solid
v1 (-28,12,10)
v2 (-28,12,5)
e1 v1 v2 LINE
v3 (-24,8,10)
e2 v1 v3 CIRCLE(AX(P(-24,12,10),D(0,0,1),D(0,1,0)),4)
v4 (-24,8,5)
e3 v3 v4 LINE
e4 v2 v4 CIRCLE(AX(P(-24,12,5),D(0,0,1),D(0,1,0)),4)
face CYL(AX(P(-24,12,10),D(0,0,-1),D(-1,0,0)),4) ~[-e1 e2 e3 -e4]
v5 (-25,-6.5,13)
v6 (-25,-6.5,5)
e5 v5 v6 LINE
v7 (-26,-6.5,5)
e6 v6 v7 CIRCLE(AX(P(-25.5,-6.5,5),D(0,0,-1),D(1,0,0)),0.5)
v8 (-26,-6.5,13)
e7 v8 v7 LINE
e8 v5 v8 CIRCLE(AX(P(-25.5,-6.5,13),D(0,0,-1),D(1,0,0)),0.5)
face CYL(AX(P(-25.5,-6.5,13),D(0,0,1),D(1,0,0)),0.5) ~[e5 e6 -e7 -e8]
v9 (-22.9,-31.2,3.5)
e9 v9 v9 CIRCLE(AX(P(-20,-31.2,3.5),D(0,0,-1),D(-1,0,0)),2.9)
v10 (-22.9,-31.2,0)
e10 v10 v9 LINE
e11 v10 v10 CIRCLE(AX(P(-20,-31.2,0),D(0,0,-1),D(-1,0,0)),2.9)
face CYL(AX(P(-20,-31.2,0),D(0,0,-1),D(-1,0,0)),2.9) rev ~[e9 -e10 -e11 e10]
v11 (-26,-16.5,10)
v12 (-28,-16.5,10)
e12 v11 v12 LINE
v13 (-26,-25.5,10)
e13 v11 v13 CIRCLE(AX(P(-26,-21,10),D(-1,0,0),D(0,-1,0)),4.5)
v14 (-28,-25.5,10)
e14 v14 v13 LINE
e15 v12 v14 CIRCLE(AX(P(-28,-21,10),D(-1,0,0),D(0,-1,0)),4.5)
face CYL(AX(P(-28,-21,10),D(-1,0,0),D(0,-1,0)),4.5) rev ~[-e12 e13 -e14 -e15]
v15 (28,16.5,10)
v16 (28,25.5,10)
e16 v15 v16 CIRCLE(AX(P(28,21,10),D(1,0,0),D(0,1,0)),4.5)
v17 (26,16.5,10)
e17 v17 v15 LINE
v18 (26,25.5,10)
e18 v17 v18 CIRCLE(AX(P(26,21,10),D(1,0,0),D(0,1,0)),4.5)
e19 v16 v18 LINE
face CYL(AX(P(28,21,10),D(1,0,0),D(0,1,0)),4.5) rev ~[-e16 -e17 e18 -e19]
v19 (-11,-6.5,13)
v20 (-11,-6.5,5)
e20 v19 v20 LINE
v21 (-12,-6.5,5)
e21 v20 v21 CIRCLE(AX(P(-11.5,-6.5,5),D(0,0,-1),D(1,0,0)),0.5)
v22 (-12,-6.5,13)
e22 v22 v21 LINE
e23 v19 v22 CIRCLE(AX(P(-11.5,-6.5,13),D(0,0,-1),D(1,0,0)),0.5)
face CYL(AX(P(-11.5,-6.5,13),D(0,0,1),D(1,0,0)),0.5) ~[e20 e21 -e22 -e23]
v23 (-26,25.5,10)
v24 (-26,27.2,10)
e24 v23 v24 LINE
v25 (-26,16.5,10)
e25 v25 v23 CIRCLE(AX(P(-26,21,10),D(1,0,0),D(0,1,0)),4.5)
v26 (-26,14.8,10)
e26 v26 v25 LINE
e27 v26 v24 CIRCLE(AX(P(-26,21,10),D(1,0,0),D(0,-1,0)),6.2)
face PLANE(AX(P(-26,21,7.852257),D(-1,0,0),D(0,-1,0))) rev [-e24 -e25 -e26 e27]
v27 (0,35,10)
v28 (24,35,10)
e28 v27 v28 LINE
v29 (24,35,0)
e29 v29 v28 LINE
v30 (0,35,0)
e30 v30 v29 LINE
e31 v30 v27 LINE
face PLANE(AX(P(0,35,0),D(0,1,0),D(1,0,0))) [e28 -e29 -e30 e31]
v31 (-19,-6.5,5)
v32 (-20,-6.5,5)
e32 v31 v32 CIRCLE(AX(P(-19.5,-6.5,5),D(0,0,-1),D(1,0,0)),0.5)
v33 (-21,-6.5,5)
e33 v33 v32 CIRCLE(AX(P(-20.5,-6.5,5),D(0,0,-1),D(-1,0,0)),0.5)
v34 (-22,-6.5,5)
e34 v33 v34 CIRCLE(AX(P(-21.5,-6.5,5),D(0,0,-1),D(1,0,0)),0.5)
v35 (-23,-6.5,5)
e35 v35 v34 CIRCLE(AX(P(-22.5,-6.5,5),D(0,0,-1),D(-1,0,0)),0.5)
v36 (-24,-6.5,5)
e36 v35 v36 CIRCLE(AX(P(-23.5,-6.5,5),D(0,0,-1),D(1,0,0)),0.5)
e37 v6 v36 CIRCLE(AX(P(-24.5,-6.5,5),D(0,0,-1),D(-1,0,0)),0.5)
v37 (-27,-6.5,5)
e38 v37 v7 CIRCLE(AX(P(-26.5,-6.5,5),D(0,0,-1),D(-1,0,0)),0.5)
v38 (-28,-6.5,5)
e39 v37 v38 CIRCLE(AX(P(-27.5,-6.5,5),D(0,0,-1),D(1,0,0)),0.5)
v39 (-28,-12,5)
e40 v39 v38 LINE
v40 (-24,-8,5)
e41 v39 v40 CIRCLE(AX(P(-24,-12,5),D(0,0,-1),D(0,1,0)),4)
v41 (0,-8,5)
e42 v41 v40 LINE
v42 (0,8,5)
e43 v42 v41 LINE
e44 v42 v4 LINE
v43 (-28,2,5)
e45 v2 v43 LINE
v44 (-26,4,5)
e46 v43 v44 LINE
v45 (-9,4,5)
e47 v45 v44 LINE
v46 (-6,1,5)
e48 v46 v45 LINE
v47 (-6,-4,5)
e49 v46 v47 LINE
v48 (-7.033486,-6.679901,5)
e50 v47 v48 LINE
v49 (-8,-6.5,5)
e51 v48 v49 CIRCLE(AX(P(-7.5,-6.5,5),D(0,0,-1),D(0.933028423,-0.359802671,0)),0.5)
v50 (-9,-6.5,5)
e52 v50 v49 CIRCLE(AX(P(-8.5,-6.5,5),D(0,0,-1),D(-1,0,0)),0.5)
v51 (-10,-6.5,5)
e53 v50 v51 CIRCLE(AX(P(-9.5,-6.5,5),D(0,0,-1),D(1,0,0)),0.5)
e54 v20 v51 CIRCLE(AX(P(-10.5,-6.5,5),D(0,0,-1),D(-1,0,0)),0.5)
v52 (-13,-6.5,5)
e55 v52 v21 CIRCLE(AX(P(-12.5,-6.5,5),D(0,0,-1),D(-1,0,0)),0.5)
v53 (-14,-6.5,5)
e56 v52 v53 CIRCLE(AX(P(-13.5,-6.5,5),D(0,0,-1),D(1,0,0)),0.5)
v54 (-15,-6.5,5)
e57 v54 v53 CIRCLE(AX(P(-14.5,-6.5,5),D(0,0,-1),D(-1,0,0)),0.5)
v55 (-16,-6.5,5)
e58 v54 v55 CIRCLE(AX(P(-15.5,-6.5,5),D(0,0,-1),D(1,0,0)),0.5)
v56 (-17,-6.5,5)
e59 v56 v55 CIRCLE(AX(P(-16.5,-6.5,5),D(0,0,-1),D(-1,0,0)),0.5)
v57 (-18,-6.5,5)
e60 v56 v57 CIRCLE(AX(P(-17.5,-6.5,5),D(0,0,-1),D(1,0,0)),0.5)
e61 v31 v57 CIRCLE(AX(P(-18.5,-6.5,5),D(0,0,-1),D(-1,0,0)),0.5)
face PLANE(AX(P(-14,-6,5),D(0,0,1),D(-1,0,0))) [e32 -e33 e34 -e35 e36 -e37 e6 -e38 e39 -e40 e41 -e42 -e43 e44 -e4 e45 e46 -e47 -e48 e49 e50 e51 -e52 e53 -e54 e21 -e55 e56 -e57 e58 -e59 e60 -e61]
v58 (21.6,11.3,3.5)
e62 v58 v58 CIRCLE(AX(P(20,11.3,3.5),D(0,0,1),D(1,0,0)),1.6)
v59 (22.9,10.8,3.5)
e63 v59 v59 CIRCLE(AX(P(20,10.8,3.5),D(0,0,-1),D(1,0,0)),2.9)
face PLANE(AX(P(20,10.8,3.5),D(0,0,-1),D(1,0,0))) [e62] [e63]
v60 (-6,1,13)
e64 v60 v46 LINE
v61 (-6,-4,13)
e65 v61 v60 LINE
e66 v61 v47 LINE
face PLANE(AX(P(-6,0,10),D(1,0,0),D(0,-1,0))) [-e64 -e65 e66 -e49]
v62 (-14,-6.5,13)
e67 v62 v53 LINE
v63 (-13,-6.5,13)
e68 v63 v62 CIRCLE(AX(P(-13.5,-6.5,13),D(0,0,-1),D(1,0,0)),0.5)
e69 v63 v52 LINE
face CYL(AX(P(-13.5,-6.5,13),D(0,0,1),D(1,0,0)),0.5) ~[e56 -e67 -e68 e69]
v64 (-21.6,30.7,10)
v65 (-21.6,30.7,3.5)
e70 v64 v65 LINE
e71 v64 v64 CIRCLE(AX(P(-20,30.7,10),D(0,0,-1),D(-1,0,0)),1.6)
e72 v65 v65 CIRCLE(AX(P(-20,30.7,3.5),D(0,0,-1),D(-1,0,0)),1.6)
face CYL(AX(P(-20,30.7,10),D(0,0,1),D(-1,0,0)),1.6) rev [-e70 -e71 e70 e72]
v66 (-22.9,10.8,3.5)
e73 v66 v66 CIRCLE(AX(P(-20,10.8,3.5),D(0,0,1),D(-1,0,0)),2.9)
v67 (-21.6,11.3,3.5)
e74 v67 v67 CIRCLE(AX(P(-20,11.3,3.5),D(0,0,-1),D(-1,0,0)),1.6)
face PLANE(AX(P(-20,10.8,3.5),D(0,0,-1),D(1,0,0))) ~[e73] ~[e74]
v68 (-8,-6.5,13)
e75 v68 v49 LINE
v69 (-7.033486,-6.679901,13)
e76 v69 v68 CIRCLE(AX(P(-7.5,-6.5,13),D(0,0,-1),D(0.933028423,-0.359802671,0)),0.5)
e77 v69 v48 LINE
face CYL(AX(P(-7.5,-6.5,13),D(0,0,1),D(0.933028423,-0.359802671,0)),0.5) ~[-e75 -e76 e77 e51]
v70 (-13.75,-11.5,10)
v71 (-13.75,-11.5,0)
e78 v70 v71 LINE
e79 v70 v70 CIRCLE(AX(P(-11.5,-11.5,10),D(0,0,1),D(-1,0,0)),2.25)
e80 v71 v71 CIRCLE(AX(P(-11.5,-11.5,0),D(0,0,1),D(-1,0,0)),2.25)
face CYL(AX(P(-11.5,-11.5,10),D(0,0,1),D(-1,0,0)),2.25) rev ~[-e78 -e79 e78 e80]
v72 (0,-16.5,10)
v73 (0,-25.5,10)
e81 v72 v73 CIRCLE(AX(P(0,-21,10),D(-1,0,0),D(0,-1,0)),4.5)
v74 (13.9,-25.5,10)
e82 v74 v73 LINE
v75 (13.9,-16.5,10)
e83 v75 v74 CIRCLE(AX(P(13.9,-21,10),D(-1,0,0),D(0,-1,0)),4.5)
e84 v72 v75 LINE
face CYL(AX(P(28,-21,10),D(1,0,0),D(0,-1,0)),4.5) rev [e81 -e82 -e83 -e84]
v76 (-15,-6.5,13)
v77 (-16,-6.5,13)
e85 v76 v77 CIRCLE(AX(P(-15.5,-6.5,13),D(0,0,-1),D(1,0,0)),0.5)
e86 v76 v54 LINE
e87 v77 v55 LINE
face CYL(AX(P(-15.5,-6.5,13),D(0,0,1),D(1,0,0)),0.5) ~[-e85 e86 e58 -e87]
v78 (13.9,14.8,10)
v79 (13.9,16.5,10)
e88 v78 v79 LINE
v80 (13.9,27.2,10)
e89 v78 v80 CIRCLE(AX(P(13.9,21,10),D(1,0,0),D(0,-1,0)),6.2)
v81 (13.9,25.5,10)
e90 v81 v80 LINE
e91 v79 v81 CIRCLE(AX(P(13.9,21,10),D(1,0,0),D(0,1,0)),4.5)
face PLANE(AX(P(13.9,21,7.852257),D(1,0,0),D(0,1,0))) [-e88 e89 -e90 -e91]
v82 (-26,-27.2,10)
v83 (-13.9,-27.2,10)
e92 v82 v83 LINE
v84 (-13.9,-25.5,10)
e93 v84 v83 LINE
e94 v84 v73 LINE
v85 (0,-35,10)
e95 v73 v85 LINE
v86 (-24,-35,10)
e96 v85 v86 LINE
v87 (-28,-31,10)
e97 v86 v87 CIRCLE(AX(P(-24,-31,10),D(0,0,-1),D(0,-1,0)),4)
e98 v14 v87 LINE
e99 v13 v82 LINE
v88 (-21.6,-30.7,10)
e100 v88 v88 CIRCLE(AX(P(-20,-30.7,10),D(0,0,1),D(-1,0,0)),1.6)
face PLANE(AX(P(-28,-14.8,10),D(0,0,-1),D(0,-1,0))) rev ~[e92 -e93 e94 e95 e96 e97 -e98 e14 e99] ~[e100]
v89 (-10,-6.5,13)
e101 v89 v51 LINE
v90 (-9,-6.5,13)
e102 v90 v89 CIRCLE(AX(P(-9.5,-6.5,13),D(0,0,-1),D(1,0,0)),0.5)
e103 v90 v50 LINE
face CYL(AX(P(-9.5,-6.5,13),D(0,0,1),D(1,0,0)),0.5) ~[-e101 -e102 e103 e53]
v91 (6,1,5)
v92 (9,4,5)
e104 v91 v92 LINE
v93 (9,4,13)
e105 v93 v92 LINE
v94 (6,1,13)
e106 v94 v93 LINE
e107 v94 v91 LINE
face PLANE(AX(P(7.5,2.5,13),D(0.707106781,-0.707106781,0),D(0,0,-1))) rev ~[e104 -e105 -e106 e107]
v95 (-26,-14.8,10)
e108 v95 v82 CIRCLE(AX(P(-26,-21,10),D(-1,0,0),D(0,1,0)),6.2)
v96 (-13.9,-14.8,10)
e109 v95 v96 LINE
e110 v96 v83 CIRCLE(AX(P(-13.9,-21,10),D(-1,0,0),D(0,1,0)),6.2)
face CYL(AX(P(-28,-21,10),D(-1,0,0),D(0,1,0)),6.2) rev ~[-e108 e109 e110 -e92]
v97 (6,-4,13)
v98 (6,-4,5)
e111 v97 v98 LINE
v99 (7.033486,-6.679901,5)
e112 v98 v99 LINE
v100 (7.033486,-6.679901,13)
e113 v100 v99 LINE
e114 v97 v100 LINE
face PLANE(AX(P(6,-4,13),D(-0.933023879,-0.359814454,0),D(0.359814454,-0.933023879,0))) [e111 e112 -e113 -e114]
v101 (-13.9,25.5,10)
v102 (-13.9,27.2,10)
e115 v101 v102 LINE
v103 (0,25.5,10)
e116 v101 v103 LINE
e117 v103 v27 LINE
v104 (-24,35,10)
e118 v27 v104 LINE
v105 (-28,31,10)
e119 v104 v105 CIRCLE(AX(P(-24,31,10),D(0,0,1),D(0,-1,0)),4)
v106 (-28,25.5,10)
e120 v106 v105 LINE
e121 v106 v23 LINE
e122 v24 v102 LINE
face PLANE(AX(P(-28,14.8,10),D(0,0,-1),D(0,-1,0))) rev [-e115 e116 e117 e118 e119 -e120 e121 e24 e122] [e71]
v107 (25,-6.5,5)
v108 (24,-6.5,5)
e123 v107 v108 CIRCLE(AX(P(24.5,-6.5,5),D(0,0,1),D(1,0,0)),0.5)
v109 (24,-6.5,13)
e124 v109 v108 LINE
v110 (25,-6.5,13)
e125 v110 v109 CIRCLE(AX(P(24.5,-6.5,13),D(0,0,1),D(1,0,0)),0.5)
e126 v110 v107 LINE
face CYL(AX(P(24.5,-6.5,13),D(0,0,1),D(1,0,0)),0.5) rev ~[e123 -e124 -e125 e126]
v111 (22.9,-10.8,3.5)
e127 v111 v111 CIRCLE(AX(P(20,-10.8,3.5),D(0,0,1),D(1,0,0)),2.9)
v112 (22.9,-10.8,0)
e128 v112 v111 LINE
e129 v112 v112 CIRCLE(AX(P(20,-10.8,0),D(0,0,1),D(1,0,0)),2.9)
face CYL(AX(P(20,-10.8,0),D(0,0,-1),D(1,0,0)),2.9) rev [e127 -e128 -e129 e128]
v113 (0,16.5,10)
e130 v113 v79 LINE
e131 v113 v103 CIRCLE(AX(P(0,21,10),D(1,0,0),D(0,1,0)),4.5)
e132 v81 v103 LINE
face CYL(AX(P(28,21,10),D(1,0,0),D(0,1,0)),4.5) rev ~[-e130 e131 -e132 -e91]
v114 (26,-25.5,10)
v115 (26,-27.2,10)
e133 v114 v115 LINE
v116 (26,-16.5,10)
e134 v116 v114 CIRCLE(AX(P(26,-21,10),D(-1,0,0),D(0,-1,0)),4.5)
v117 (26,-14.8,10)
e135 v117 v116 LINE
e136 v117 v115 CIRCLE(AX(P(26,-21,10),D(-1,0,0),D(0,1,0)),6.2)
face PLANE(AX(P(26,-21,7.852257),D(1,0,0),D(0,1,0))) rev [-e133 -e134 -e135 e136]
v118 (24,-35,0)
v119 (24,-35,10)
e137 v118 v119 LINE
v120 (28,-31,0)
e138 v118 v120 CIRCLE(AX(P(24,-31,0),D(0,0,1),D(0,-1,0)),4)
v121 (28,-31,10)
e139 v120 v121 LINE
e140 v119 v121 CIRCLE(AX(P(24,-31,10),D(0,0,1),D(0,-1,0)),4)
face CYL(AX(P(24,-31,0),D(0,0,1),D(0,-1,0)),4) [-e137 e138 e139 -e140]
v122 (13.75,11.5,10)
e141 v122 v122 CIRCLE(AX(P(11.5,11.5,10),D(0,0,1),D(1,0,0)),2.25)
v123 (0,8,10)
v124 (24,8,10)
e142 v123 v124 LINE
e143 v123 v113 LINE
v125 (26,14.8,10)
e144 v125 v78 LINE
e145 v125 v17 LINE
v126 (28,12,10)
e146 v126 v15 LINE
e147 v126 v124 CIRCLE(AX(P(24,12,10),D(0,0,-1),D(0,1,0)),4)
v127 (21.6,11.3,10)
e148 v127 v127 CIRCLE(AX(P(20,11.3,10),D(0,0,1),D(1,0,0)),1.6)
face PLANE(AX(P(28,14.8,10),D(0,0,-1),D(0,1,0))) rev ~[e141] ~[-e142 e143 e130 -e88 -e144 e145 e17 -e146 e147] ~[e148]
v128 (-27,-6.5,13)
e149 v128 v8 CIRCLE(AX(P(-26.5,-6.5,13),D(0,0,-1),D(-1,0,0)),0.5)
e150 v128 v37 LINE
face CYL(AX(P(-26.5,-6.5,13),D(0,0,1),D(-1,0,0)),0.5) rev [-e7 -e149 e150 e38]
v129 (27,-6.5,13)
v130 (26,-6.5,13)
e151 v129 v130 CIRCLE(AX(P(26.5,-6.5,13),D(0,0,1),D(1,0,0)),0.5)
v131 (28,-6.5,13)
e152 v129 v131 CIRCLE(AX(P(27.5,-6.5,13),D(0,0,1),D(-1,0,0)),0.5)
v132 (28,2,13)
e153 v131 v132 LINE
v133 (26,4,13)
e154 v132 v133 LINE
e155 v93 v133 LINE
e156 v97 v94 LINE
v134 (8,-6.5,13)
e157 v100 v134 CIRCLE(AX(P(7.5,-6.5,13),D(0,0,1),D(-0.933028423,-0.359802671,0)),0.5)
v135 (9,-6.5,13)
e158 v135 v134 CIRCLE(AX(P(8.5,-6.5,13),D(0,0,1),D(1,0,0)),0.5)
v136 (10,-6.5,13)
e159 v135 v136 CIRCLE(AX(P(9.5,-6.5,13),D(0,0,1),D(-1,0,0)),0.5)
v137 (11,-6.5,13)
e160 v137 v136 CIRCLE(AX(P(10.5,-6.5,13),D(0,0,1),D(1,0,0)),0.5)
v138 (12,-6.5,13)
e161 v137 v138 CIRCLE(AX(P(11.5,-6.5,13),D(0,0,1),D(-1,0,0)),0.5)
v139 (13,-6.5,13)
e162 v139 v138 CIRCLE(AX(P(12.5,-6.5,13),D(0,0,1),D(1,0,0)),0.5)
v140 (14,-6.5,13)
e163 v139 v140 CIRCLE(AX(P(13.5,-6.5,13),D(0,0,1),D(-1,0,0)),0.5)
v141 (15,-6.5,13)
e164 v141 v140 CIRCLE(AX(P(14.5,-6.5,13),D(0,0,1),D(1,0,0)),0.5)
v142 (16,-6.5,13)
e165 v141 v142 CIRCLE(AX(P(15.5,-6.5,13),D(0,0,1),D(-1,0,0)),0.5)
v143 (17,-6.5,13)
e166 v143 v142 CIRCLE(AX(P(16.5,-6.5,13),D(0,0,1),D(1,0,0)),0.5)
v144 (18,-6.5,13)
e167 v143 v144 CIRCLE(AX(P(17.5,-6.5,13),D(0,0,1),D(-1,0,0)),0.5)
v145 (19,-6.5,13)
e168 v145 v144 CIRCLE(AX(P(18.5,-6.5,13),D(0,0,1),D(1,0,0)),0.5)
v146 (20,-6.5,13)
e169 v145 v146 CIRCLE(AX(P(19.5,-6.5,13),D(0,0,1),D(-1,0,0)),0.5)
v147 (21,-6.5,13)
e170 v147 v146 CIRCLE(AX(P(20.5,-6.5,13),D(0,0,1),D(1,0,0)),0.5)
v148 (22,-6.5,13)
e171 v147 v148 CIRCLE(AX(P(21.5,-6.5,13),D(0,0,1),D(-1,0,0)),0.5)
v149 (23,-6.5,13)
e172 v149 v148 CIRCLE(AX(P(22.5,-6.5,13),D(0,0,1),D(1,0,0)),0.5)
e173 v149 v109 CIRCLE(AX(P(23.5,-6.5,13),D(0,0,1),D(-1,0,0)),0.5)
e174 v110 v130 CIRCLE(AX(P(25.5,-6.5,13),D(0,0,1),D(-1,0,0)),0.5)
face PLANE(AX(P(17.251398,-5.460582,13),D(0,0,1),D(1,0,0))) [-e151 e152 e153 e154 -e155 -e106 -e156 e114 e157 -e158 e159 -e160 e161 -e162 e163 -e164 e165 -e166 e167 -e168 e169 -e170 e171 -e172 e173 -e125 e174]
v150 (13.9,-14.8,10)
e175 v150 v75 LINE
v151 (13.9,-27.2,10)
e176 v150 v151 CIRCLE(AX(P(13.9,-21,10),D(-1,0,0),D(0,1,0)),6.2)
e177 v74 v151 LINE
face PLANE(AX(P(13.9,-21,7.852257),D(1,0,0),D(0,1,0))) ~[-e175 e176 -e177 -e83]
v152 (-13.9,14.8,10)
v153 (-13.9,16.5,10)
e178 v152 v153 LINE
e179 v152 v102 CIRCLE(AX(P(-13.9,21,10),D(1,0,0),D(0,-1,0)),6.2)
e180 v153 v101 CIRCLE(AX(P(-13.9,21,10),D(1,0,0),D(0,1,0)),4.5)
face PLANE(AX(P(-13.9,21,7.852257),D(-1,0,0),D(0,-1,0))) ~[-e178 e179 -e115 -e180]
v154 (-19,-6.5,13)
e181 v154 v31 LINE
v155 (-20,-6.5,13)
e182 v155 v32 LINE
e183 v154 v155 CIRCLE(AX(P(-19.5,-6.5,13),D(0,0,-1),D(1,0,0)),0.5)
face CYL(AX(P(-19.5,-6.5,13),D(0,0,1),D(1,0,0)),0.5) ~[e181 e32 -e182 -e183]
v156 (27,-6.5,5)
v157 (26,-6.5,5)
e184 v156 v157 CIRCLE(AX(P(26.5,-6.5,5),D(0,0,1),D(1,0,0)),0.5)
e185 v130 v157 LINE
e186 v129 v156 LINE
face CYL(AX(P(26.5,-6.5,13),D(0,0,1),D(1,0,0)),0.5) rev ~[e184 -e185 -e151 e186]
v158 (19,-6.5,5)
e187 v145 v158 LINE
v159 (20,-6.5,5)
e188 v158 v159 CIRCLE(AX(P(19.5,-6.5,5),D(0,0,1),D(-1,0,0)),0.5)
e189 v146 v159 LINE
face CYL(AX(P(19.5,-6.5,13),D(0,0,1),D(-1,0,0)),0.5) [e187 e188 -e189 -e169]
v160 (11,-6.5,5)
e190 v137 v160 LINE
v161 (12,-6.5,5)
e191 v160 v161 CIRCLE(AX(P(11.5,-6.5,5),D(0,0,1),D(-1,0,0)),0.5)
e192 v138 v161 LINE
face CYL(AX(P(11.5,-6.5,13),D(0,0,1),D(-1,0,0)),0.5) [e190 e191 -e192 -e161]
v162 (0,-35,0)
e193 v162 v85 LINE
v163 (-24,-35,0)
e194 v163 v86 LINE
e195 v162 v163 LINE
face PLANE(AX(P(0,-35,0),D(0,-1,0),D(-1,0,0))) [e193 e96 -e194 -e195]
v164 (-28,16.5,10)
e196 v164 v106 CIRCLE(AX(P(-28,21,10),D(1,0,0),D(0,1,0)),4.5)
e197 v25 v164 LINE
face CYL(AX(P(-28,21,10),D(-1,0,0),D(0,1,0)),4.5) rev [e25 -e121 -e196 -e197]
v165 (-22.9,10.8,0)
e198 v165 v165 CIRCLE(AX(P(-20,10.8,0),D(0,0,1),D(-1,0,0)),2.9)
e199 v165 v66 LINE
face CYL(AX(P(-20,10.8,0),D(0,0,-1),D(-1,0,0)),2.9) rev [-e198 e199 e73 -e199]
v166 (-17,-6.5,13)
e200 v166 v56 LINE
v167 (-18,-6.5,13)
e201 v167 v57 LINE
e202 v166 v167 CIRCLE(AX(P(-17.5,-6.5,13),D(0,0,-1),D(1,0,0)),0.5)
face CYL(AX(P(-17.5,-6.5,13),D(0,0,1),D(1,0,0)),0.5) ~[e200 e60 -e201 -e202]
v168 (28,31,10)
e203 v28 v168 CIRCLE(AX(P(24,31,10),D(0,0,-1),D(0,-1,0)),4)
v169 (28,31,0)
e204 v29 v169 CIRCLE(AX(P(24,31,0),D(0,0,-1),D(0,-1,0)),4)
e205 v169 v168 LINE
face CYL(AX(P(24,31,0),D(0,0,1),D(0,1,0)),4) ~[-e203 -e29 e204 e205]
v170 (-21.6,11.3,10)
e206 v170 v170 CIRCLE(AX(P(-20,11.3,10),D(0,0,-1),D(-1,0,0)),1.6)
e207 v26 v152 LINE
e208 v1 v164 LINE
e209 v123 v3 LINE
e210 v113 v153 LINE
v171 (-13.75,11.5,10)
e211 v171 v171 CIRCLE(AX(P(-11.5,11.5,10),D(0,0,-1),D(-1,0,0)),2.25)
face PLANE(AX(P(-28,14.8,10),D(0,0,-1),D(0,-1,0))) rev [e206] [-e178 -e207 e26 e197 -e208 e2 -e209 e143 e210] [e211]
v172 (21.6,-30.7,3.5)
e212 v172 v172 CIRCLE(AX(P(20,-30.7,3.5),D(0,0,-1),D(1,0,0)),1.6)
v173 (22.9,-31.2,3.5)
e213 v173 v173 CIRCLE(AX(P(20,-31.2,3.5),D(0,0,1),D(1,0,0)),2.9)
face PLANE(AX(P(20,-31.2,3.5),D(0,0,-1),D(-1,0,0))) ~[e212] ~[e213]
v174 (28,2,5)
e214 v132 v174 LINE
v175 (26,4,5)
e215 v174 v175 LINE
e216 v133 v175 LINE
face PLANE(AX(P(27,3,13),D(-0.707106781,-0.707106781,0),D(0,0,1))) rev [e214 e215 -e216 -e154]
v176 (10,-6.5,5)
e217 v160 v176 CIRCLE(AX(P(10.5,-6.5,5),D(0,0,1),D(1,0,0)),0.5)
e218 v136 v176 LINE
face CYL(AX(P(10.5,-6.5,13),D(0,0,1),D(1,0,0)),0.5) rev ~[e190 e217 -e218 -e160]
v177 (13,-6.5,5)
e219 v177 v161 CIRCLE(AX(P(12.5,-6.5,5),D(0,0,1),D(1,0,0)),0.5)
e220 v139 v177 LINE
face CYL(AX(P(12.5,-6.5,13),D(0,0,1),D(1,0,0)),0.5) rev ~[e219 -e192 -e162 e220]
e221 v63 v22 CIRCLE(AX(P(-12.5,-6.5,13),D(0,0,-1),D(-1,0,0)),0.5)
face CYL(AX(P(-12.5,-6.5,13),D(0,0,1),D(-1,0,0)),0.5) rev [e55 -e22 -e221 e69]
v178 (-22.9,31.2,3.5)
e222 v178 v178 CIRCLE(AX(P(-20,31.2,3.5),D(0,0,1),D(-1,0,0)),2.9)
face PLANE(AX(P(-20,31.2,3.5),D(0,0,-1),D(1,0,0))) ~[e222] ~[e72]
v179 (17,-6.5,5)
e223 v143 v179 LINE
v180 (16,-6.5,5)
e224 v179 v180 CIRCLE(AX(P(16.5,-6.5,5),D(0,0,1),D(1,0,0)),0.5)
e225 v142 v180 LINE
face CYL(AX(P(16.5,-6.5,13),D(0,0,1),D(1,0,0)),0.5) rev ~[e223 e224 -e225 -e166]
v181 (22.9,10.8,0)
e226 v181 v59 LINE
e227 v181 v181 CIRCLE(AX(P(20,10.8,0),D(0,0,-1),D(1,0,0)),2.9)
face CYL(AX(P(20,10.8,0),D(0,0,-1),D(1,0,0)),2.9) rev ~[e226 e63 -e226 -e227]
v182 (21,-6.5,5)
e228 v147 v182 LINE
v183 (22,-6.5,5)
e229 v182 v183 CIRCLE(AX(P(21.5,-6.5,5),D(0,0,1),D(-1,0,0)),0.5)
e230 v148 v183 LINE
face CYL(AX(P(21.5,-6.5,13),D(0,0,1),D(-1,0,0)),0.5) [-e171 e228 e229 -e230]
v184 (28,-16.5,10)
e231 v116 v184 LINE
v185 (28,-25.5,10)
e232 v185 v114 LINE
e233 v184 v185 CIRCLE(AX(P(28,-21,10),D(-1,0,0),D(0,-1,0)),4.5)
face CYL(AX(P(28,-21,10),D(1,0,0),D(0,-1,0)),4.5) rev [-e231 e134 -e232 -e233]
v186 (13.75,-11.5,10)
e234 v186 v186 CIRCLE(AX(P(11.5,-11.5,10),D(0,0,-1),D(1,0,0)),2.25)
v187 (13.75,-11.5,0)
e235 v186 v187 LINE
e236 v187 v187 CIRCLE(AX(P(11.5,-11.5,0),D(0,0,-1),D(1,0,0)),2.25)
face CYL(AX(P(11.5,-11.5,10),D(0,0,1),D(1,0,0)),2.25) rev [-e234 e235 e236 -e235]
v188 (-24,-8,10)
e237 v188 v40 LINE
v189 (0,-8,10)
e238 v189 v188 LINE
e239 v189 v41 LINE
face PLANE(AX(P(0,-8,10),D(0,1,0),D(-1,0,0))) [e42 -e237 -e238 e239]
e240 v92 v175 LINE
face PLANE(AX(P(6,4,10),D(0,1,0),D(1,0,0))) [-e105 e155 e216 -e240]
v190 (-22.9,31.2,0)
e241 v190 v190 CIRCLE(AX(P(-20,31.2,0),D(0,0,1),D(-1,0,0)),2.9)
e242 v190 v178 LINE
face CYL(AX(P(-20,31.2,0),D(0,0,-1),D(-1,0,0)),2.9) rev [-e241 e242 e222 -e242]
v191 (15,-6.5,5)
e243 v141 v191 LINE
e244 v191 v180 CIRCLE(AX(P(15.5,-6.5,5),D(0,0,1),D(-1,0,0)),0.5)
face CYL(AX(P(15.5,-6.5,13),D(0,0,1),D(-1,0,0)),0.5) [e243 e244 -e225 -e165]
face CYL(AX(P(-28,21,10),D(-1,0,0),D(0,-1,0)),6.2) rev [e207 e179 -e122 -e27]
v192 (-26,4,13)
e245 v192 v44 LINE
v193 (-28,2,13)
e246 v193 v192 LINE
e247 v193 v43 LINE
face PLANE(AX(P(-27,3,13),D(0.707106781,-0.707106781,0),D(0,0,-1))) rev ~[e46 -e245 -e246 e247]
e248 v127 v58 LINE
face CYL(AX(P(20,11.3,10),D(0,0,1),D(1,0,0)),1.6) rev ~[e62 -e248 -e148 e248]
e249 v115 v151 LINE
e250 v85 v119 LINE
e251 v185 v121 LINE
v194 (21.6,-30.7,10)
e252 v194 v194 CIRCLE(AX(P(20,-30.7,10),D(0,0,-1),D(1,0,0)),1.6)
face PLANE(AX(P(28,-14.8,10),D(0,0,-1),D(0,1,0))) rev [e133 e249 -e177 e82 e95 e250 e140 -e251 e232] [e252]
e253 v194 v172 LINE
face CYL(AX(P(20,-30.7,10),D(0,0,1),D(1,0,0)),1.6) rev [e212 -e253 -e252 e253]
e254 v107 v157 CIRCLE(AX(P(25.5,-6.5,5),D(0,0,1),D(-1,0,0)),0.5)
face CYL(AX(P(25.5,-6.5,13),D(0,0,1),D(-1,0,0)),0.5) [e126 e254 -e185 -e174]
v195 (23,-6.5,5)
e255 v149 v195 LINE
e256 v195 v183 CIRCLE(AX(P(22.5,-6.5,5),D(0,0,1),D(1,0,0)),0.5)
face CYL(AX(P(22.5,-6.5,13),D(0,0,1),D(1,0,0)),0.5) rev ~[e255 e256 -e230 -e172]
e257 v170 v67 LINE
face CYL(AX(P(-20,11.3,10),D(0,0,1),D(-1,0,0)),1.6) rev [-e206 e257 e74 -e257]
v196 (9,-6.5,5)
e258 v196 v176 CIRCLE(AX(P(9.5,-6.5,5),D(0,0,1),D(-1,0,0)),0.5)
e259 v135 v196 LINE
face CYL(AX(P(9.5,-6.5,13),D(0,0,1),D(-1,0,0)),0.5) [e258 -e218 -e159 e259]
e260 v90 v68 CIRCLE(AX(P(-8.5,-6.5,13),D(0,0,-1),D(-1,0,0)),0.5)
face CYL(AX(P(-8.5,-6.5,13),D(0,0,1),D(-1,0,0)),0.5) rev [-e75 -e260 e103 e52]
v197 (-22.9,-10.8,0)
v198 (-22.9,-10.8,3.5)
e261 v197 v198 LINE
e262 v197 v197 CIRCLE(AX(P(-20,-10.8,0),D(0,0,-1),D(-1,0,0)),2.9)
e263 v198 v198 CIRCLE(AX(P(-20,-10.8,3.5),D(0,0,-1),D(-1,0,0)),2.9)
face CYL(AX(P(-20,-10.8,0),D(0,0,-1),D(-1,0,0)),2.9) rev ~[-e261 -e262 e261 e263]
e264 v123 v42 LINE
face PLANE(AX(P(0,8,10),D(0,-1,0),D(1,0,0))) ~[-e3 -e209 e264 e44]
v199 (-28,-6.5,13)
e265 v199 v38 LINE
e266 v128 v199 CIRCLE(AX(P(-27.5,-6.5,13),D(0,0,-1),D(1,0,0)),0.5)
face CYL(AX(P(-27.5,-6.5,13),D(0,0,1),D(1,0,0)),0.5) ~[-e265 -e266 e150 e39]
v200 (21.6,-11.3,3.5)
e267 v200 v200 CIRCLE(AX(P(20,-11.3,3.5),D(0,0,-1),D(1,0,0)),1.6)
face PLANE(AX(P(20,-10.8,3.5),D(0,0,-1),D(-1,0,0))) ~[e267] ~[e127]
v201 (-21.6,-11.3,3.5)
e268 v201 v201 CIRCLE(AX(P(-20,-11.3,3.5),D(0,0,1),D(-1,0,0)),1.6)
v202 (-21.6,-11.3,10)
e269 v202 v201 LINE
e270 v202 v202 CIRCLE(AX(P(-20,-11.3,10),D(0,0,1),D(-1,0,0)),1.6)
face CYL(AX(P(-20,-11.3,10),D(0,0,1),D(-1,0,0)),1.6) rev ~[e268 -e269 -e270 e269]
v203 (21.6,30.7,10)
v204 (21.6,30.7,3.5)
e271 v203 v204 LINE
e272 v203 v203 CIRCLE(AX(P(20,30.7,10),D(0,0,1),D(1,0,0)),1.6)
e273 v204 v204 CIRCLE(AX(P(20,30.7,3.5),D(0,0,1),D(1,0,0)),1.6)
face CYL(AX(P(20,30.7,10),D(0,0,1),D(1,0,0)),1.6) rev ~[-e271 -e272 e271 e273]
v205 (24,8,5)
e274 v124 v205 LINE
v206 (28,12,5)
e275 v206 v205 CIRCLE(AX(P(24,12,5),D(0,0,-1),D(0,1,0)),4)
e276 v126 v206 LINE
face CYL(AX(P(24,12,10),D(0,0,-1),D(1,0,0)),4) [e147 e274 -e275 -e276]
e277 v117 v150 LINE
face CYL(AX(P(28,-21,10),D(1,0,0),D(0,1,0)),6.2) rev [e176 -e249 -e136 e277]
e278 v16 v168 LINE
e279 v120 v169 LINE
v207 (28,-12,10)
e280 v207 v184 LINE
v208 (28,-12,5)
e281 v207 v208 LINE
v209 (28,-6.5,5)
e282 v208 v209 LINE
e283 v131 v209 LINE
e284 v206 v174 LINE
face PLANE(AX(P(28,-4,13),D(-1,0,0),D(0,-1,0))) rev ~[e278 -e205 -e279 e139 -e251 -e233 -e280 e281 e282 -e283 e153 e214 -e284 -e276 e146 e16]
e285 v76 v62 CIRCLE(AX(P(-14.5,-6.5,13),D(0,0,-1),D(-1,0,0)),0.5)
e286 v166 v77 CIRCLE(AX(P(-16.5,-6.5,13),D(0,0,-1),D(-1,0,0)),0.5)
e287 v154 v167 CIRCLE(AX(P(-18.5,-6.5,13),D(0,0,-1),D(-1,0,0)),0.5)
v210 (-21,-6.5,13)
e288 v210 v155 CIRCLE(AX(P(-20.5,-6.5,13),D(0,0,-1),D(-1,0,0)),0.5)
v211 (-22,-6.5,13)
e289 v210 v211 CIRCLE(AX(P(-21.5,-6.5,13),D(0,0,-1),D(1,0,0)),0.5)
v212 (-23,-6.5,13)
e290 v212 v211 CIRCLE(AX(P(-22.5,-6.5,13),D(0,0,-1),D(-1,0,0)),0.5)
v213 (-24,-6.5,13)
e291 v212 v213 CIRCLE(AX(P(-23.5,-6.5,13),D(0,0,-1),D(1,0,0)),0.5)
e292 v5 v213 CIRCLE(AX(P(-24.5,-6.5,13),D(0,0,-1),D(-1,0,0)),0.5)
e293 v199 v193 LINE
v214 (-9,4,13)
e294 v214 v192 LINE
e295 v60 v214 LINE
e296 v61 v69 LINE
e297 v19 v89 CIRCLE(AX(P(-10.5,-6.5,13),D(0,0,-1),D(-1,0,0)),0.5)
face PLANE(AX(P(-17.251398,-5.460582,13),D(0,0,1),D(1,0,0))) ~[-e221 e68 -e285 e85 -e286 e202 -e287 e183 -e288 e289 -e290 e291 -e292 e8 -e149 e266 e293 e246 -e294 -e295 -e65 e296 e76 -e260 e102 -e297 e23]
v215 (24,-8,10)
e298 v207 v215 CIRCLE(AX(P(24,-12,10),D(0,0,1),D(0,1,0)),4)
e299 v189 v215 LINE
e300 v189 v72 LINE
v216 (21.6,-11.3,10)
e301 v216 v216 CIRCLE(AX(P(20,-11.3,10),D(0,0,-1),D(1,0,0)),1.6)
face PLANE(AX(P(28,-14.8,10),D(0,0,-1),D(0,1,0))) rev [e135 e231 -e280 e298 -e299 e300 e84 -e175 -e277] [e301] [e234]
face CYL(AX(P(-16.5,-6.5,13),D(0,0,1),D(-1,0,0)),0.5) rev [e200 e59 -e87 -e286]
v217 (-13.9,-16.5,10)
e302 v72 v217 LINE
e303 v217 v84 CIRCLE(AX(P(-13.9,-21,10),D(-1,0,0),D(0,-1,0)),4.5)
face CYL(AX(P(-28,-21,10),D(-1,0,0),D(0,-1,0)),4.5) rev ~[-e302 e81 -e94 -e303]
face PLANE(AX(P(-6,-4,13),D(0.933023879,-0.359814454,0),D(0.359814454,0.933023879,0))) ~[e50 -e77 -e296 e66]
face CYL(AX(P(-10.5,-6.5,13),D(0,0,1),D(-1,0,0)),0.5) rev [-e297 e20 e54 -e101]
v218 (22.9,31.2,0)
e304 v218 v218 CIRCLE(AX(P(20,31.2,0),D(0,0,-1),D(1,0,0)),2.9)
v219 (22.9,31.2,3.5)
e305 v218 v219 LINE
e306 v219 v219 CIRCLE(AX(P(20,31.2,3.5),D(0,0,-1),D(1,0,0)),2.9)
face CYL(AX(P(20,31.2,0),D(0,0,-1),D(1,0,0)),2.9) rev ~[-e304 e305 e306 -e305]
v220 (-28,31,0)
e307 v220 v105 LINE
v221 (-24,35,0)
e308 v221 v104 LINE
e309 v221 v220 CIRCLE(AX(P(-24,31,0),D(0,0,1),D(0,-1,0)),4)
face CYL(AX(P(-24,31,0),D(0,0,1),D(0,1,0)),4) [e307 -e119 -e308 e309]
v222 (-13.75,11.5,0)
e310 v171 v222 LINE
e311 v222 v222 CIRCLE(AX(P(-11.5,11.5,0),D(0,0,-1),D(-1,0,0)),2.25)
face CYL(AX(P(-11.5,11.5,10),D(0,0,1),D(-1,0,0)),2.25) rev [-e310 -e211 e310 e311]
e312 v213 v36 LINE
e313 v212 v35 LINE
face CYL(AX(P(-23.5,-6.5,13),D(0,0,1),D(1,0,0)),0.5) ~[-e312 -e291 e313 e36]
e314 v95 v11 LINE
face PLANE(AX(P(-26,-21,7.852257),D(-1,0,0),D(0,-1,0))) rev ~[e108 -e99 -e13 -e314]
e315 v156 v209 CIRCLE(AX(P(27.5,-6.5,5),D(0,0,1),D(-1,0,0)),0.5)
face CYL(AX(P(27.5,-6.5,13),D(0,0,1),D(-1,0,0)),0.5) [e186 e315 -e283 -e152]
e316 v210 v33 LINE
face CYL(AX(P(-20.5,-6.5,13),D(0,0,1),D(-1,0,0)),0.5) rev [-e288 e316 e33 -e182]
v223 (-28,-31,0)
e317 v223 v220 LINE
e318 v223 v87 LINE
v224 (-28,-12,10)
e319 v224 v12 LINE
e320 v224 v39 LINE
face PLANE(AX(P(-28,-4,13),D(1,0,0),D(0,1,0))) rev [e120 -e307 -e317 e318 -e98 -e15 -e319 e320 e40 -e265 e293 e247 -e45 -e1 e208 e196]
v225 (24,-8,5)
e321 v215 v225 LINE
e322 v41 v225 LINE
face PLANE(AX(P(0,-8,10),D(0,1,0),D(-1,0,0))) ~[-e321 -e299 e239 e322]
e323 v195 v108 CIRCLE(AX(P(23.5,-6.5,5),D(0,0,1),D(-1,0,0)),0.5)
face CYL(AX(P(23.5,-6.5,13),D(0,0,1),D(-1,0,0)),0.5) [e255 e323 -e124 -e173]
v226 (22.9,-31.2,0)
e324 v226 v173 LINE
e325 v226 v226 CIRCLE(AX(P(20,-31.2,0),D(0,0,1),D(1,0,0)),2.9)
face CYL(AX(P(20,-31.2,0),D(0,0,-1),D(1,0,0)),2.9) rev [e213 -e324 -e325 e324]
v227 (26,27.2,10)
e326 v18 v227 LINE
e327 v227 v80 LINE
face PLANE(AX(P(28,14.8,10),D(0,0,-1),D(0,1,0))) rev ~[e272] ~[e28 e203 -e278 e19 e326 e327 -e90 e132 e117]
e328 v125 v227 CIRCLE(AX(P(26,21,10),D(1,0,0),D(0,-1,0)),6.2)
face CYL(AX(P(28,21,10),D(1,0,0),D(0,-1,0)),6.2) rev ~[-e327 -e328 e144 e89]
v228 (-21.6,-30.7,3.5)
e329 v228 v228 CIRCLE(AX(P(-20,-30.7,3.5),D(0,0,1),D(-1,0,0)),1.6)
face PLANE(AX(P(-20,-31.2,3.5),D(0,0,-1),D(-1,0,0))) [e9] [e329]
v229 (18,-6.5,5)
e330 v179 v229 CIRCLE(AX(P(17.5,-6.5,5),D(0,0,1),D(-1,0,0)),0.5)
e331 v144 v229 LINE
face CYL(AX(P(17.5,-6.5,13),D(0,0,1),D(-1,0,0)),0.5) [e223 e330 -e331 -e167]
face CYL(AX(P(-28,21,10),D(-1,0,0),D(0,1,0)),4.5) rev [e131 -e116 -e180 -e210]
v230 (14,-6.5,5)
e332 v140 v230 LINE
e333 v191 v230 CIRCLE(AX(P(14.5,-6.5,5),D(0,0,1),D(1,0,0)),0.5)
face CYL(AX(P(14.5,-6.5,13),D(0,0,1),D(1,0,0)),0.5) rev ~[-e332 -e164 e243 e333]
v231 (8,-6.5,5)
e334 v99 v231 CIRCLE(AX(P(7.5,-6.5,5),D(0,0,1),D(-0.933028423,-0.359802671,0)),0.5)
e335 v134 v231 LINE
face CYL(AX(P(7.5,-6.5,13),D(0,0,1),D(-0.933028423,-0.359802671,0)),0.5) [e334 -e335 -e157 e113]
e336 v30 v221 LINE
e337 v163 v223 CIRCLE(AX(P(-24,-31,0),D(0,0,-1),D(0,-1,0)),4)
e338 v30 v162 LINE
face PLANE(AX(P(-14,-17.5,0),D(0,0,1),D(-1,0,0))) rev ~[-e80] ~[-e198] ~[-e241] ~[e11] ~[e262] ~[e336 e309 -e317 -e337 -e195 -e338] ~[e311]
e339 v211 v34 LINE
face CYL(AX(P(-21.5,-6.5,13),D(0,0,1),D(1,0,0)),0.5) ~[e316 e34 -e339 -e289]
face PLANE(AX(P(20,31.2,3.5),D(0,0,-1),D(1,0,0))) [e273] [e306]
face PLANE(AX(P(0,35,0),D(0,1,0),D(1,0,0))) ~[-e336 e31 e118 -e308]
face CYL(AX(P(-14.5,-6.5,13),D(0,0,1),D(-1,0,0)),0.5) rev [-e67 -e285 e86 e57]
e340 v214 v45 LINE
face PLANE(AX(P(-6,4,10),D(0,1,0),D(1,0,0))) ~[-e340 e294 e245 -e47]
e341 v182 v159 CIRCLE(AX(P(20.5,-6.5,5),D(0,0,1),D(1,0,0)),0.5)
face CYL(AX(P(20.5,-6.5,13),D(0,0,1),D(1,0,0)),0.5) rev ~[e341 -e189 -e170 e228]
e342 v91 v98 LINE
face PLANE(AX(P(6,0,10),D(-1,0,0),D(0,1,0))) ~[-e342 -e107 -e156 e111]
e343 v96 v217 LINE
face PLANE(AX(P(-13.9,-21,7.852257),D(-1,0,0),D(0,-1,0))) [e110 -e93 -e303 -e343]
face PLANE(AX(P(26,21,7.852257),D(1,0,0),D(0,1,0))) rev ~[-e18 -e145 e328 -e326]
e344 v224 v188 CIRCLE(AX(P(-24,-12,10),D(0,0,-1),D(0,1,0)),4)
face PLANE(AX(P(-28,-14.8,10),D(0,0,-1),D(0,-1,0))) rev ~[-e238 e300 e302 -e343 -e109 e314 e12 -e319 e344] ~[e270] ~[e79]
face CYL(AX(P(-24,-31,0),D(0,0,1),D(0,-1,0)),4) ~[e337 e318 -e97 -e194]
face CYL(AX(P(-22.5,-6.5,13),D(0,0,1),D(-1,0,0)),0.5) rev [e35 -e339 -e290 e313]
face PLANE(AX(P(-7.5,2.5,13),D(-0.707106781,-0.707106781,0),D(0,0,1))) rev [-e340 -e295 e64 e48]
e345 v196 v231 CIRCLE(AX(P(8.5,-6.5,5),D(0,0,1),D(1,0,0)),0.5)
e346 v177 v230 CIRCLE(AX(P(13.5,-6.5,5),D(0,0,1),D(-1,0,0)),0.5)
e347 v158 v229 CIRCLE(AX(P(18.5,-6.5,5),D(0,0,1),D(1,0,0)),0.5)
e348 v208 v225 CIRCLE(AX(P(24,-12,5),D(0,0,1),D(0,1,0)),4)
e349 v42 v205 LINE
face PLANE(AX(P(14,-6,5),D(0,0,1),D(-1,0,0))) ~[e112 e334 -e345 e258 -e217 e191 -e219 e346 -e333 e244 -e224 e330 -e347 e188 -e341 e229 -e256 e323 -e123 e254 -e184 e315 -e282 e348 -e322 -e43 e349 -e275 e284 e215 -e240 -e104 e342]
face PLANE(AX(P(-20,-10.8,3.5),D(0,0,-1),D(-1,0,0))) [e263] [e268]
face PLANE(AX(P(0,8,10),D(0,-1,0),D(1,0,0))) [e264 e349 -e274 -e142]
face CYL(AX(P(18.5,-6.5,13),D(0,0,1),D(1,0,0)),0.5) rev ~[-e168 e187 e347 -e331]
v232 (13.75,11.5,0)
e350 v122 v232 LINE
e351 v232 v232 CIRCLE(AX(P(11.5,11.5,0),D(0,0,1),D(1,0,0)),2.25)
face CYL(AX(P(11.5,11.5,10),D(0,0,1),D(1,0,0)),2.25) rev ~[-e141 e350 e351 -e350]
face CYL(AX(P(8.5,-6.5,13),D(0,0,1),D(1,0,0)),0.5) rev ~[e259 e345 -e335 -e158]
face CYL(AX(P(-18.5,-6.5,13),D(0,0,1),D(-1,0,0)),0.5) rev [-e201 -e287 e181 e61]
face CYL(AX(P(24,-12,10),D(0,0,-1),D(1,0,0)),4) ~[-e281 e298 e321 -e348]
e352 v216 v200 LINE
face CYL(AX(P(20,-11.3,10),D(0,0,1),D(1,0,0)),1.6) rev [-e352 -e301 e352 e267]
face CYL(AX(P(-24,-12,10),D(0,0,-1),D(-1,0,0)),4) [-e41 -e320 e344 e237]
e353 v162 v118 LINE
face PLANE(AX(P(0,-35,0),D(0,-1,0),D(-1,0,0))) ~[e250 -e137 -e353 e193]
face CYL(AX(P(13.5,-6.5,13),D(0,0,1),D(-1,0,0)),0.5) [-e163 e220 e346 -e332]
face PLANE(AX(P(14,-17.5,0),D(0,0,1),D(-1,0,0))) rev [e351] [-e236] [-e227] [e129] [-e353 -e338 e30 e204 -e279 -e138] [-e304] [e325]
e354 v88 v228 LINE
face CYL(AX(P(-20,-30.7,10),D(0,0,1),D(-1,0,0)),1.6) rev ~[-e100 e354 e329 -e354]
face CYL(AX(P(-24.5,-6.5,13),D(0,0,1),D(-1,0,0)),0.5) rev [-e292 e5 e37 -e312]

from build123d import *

# Parameters (mm, degrees)
BOX_W           = 28
BOX_H           = 35
BOX_DEPTH       = 10
POCKET_DEPTH    = 14.1
PAD_DEPTH       = 2
SKETCH002_R     = 4.5
POCKET001_DEPTH = 28.001
SKETCH003_R     = 2.25
SKETCH003_R_2   = 1.6
POCKET002_DEPTH = 10.001
SKETCH004_R     = 2.9
POCKET003_DEPTH = 3.5
SKETCH005_W     = 28
SKETCH005_H     = 4
POCKET004_DEPTH = 5
SKETCH006_W     = 6
SKETCH006_H     = 4
POCKET005_DEPTH = 5
SKETCH007_W     = 22
SKETCH007_H     = 4
PAD001_DEPTH    = 3
PAD002_DEPTH    = 8
FILLET_R        = 4
FILLET001_R     = 4
CHAMFER_SIZE    = 2
CHAMFER001_SIZE = 3
FILLET002_R     = 4
FILLET003_R     = 4


with BuildPart() as pad001:
    # Box → Box (new body)
    with BuildSketch(Plane.XY):
        with Locations((14, 17.5)):
            Rectangle(BOX_W, BOX_H)
    extrude(amount=BOX_DEPTH)

    # Sketch → Pocket (cut)
    with BuildSketch(Plane.YZ.offset(28)):
        with BuildLine():
            ThreePointArc((14.8, 10), (21, 3.8), (27.2, 10))
            Line((14.8, 10), (27.2, 10))
        make_face()
    extrude(amount=-POCKET_DEPTH, mode=Mode.SUBTRACT)

    # Sketch001 → Pad (new body)
    with BuildSketch(Plane.YZ.offset(28)):
        with BuildLine():
            ThreePointArc((14.8, 10), (21, 3.8), (27.2, 10))
            Line((14.8, 10), (27.2, 10))
        make_face()
    extrude(amount=-PAD_DEPTH)

    # Sketch002 → Pocket001 (cut, through all)
    with BuildSketch(Plane.YZ.offset(28)):
        with Locations((21, 10)):
            Circle(SKETCH002_R)
    extrude(amount=-POCKET001_DEPTH, mode=Mode.SUBTRACT)

    # Sketch003 → Pocket002 (cut, through all)
    with BuildSketch(Plane.XY.offset(10)):
        with Locations((11.5, 11.5)):
            Circle(SKETCH003_R)
        with Locations((20, 30.7)):
            Circle(SKETCH003_R_2)
        with Locations((20, 11.3)):
            Circle(SKETCH003_R_2)
    extrude(amount=-POCKET002_DEPTH, mode=Mode.SUBTRACT)

    # Sketch004 → Pocket003 (cut)
    with BuildSketch(Plane(origin=(0, 0, 0), x_dir=(1, 0, 0), z_dir=(0, 0, -1))):
        with Locations((20, -10.8)):
            Circle(SKETCH004_R)
        with Locations((20, -31.2)):
            Circle(SKETCH004_R)
    extrude(amount=-POCKET003_DEPTH, mode=Mode.SUBTRACT)

    # Sketch005 → Pocket004 (cut)
    with BuildSketch(Plane.XY.offset(10)):
        with Locations((14, 6)):
            Rectangle(SKETCH005_W, SKETCH005_H)
    extrude(amount=-POCKET004_DEPTH, mode=Mode.SUBTRACT)

    # Sketch006 → Pocket005 (cut)
    with BuildSketch(Plane.XY.offset(10)):
        with Locations((3, 2)):
            Rectangle(SKETCH006_W, SKETCH006_H)
    extrude(amount=-POCKET005_DEPTH, mode=Mode.SUBTRACT)

    # Sketch007 → Pad001 (new body)
    with BuildSketch(Plane.XY.offset(10)):
        with Locations((17, 2)):
            Rectangle(SKETCH007_W, SKETCH007_H)
    extrude(amount=PAD001_DEPTH)


with BuildPart() as part_mirroring:
    # Part__Mirroring: instance of Pad001
    add(pad001.part.mirror(Plane(origin=(0, 0, 0), x_dir=(1, 0, 0), z_dir=(0, 1, 0))))


with BuildPart() as fillet003:
    # Fusion base: copy of Pad001
    add(pad001.part)

    # Fusion: union Part__Mirroring
    add(part_mirroring.part)

    # Sketch008 → Pad002 (new body)
    with BuildSketch(Plane.XY.offset(13)):
        with BuildLine():
            ThreePointArc((11, -6.5), (11.5, -7), (12, -6.5))
            ThreePointArc((13, -6.5), (12.5, -6), (12, -6.5))
            ThreePointArc((13, -6.5), (13.5, -7), (14, -6.5))
            ThreePointArc((15, -6.5), (14.5, -6), (14, -6.5))
            ThreePointArc((15, -6.5), (15.5, -7), (16, -6.5))
            ThreePointArc((17, -6.5), (16.5, -6), (16, -6.5))
            ThreePointArc((17, -6.5), (17.5, -7), (18, -6.5))
            ThreePointArc((19, -6.5), (18.5, -6), (18, -6.5))
            ThreePointArc((19, -6.5), (19.5, -7), (20, -6.5))
            ThreePointArc((21, -6.5), (20.5, -6), (20, -6.5))
            ThreePointArc((21, -6.5), (21.5, -7), (22, -6.5))
            ThreePointArc((23, -6.5), (22.5, -6), (22, -6.5))
            ThreePointArc((23, -6.5), (23.5, -7), (24, -6.5))
            ThreePointArc((25, -6.5), (24.5, -6), (24, -6.5))
            ThreePointArc((25, -6.5), (25.5, -7), (26, -6.5))
            ThreePointArc((27, -6.5), (26.5, -6), (26, -6.5))
            ThreePointArc((27, -6.5), (27.5, -7), (28, -6.5))
            Line((28, -4), (28, -6.5))
            Line((6, -4), (28, -4))
            Line((6, -4), (7.033486, -6.679901))
            ThreePointArc((7.033486, -6.679901), (7.591495, -6.991557), (8, -6.5))
            ThreePointArc((9, -6.5), (8.5, -6), (8, -6.5))
            ThreePointArc((9, -6.5), (9.5, -7), (10, -6.5))
            ThreePointArc((11, -6.5), (10.5, -6), (10, -6.5))
        make_face()
    extrude(amount=-PAD002_DEPTH)

    # Fillet
    fillet_edges = [fillet003.edges().sort_by_distance(p)[0] for p in [
        (28, 35, 5),
    ]]
    fillet(fillet_edges, radius=FILLET_R)

    # Fillet001
    fillet001_edges = [fillet003.edges().sort_by_distance(p)[0] for p in [
        (28, 8, 7.5),
    ]]
    fillet(fillet001_edges, radius=FILLET001_R)

    # Chamfer
    chamfer_edges = [fillet003.edges().sort_by_distance(p)[0] for p in [
        (28, 4, 7.5),
    ]]
    chamfer(chamfer_edges, length=CHAMFER_SIZE)

    # Chamfer001
    chamfer001_edges = [fillet003.edges().sort_by_distance(p)[0] for p in [
        (6, 4, 7.5),
    ]]
    chamfer(chamfer001_edges, length=CHAMFER001_SIZE)

    # Fillet002
    fillet002_edges = [fillet003.edges().sort_by_distance(p)[0] for p in [
        (28, -8, 7.5),
    ]]
    fillet(fillet002_edges, radius=FILLET002_R)

    # Fillet003
    fillet003_edges = [fillet003.edges().sort_by_distance(p)[0] for p in [
        (28, -35, 5),
    ]]
    fillet(fillet003_edges, radius=FILLET003_R)


with BuildPart() as fusion001:
    # Part__Mirroring001: instance of Fillet003
    add(fillet003.part.mirror(Plane(origin=(0, 0, 0), x_dir=(0, -1, 0), z_dir=(1, 0, 0))))

    # Fusion001: union Fillet003
    add(fillet003.part)


solid = fusion001.part
